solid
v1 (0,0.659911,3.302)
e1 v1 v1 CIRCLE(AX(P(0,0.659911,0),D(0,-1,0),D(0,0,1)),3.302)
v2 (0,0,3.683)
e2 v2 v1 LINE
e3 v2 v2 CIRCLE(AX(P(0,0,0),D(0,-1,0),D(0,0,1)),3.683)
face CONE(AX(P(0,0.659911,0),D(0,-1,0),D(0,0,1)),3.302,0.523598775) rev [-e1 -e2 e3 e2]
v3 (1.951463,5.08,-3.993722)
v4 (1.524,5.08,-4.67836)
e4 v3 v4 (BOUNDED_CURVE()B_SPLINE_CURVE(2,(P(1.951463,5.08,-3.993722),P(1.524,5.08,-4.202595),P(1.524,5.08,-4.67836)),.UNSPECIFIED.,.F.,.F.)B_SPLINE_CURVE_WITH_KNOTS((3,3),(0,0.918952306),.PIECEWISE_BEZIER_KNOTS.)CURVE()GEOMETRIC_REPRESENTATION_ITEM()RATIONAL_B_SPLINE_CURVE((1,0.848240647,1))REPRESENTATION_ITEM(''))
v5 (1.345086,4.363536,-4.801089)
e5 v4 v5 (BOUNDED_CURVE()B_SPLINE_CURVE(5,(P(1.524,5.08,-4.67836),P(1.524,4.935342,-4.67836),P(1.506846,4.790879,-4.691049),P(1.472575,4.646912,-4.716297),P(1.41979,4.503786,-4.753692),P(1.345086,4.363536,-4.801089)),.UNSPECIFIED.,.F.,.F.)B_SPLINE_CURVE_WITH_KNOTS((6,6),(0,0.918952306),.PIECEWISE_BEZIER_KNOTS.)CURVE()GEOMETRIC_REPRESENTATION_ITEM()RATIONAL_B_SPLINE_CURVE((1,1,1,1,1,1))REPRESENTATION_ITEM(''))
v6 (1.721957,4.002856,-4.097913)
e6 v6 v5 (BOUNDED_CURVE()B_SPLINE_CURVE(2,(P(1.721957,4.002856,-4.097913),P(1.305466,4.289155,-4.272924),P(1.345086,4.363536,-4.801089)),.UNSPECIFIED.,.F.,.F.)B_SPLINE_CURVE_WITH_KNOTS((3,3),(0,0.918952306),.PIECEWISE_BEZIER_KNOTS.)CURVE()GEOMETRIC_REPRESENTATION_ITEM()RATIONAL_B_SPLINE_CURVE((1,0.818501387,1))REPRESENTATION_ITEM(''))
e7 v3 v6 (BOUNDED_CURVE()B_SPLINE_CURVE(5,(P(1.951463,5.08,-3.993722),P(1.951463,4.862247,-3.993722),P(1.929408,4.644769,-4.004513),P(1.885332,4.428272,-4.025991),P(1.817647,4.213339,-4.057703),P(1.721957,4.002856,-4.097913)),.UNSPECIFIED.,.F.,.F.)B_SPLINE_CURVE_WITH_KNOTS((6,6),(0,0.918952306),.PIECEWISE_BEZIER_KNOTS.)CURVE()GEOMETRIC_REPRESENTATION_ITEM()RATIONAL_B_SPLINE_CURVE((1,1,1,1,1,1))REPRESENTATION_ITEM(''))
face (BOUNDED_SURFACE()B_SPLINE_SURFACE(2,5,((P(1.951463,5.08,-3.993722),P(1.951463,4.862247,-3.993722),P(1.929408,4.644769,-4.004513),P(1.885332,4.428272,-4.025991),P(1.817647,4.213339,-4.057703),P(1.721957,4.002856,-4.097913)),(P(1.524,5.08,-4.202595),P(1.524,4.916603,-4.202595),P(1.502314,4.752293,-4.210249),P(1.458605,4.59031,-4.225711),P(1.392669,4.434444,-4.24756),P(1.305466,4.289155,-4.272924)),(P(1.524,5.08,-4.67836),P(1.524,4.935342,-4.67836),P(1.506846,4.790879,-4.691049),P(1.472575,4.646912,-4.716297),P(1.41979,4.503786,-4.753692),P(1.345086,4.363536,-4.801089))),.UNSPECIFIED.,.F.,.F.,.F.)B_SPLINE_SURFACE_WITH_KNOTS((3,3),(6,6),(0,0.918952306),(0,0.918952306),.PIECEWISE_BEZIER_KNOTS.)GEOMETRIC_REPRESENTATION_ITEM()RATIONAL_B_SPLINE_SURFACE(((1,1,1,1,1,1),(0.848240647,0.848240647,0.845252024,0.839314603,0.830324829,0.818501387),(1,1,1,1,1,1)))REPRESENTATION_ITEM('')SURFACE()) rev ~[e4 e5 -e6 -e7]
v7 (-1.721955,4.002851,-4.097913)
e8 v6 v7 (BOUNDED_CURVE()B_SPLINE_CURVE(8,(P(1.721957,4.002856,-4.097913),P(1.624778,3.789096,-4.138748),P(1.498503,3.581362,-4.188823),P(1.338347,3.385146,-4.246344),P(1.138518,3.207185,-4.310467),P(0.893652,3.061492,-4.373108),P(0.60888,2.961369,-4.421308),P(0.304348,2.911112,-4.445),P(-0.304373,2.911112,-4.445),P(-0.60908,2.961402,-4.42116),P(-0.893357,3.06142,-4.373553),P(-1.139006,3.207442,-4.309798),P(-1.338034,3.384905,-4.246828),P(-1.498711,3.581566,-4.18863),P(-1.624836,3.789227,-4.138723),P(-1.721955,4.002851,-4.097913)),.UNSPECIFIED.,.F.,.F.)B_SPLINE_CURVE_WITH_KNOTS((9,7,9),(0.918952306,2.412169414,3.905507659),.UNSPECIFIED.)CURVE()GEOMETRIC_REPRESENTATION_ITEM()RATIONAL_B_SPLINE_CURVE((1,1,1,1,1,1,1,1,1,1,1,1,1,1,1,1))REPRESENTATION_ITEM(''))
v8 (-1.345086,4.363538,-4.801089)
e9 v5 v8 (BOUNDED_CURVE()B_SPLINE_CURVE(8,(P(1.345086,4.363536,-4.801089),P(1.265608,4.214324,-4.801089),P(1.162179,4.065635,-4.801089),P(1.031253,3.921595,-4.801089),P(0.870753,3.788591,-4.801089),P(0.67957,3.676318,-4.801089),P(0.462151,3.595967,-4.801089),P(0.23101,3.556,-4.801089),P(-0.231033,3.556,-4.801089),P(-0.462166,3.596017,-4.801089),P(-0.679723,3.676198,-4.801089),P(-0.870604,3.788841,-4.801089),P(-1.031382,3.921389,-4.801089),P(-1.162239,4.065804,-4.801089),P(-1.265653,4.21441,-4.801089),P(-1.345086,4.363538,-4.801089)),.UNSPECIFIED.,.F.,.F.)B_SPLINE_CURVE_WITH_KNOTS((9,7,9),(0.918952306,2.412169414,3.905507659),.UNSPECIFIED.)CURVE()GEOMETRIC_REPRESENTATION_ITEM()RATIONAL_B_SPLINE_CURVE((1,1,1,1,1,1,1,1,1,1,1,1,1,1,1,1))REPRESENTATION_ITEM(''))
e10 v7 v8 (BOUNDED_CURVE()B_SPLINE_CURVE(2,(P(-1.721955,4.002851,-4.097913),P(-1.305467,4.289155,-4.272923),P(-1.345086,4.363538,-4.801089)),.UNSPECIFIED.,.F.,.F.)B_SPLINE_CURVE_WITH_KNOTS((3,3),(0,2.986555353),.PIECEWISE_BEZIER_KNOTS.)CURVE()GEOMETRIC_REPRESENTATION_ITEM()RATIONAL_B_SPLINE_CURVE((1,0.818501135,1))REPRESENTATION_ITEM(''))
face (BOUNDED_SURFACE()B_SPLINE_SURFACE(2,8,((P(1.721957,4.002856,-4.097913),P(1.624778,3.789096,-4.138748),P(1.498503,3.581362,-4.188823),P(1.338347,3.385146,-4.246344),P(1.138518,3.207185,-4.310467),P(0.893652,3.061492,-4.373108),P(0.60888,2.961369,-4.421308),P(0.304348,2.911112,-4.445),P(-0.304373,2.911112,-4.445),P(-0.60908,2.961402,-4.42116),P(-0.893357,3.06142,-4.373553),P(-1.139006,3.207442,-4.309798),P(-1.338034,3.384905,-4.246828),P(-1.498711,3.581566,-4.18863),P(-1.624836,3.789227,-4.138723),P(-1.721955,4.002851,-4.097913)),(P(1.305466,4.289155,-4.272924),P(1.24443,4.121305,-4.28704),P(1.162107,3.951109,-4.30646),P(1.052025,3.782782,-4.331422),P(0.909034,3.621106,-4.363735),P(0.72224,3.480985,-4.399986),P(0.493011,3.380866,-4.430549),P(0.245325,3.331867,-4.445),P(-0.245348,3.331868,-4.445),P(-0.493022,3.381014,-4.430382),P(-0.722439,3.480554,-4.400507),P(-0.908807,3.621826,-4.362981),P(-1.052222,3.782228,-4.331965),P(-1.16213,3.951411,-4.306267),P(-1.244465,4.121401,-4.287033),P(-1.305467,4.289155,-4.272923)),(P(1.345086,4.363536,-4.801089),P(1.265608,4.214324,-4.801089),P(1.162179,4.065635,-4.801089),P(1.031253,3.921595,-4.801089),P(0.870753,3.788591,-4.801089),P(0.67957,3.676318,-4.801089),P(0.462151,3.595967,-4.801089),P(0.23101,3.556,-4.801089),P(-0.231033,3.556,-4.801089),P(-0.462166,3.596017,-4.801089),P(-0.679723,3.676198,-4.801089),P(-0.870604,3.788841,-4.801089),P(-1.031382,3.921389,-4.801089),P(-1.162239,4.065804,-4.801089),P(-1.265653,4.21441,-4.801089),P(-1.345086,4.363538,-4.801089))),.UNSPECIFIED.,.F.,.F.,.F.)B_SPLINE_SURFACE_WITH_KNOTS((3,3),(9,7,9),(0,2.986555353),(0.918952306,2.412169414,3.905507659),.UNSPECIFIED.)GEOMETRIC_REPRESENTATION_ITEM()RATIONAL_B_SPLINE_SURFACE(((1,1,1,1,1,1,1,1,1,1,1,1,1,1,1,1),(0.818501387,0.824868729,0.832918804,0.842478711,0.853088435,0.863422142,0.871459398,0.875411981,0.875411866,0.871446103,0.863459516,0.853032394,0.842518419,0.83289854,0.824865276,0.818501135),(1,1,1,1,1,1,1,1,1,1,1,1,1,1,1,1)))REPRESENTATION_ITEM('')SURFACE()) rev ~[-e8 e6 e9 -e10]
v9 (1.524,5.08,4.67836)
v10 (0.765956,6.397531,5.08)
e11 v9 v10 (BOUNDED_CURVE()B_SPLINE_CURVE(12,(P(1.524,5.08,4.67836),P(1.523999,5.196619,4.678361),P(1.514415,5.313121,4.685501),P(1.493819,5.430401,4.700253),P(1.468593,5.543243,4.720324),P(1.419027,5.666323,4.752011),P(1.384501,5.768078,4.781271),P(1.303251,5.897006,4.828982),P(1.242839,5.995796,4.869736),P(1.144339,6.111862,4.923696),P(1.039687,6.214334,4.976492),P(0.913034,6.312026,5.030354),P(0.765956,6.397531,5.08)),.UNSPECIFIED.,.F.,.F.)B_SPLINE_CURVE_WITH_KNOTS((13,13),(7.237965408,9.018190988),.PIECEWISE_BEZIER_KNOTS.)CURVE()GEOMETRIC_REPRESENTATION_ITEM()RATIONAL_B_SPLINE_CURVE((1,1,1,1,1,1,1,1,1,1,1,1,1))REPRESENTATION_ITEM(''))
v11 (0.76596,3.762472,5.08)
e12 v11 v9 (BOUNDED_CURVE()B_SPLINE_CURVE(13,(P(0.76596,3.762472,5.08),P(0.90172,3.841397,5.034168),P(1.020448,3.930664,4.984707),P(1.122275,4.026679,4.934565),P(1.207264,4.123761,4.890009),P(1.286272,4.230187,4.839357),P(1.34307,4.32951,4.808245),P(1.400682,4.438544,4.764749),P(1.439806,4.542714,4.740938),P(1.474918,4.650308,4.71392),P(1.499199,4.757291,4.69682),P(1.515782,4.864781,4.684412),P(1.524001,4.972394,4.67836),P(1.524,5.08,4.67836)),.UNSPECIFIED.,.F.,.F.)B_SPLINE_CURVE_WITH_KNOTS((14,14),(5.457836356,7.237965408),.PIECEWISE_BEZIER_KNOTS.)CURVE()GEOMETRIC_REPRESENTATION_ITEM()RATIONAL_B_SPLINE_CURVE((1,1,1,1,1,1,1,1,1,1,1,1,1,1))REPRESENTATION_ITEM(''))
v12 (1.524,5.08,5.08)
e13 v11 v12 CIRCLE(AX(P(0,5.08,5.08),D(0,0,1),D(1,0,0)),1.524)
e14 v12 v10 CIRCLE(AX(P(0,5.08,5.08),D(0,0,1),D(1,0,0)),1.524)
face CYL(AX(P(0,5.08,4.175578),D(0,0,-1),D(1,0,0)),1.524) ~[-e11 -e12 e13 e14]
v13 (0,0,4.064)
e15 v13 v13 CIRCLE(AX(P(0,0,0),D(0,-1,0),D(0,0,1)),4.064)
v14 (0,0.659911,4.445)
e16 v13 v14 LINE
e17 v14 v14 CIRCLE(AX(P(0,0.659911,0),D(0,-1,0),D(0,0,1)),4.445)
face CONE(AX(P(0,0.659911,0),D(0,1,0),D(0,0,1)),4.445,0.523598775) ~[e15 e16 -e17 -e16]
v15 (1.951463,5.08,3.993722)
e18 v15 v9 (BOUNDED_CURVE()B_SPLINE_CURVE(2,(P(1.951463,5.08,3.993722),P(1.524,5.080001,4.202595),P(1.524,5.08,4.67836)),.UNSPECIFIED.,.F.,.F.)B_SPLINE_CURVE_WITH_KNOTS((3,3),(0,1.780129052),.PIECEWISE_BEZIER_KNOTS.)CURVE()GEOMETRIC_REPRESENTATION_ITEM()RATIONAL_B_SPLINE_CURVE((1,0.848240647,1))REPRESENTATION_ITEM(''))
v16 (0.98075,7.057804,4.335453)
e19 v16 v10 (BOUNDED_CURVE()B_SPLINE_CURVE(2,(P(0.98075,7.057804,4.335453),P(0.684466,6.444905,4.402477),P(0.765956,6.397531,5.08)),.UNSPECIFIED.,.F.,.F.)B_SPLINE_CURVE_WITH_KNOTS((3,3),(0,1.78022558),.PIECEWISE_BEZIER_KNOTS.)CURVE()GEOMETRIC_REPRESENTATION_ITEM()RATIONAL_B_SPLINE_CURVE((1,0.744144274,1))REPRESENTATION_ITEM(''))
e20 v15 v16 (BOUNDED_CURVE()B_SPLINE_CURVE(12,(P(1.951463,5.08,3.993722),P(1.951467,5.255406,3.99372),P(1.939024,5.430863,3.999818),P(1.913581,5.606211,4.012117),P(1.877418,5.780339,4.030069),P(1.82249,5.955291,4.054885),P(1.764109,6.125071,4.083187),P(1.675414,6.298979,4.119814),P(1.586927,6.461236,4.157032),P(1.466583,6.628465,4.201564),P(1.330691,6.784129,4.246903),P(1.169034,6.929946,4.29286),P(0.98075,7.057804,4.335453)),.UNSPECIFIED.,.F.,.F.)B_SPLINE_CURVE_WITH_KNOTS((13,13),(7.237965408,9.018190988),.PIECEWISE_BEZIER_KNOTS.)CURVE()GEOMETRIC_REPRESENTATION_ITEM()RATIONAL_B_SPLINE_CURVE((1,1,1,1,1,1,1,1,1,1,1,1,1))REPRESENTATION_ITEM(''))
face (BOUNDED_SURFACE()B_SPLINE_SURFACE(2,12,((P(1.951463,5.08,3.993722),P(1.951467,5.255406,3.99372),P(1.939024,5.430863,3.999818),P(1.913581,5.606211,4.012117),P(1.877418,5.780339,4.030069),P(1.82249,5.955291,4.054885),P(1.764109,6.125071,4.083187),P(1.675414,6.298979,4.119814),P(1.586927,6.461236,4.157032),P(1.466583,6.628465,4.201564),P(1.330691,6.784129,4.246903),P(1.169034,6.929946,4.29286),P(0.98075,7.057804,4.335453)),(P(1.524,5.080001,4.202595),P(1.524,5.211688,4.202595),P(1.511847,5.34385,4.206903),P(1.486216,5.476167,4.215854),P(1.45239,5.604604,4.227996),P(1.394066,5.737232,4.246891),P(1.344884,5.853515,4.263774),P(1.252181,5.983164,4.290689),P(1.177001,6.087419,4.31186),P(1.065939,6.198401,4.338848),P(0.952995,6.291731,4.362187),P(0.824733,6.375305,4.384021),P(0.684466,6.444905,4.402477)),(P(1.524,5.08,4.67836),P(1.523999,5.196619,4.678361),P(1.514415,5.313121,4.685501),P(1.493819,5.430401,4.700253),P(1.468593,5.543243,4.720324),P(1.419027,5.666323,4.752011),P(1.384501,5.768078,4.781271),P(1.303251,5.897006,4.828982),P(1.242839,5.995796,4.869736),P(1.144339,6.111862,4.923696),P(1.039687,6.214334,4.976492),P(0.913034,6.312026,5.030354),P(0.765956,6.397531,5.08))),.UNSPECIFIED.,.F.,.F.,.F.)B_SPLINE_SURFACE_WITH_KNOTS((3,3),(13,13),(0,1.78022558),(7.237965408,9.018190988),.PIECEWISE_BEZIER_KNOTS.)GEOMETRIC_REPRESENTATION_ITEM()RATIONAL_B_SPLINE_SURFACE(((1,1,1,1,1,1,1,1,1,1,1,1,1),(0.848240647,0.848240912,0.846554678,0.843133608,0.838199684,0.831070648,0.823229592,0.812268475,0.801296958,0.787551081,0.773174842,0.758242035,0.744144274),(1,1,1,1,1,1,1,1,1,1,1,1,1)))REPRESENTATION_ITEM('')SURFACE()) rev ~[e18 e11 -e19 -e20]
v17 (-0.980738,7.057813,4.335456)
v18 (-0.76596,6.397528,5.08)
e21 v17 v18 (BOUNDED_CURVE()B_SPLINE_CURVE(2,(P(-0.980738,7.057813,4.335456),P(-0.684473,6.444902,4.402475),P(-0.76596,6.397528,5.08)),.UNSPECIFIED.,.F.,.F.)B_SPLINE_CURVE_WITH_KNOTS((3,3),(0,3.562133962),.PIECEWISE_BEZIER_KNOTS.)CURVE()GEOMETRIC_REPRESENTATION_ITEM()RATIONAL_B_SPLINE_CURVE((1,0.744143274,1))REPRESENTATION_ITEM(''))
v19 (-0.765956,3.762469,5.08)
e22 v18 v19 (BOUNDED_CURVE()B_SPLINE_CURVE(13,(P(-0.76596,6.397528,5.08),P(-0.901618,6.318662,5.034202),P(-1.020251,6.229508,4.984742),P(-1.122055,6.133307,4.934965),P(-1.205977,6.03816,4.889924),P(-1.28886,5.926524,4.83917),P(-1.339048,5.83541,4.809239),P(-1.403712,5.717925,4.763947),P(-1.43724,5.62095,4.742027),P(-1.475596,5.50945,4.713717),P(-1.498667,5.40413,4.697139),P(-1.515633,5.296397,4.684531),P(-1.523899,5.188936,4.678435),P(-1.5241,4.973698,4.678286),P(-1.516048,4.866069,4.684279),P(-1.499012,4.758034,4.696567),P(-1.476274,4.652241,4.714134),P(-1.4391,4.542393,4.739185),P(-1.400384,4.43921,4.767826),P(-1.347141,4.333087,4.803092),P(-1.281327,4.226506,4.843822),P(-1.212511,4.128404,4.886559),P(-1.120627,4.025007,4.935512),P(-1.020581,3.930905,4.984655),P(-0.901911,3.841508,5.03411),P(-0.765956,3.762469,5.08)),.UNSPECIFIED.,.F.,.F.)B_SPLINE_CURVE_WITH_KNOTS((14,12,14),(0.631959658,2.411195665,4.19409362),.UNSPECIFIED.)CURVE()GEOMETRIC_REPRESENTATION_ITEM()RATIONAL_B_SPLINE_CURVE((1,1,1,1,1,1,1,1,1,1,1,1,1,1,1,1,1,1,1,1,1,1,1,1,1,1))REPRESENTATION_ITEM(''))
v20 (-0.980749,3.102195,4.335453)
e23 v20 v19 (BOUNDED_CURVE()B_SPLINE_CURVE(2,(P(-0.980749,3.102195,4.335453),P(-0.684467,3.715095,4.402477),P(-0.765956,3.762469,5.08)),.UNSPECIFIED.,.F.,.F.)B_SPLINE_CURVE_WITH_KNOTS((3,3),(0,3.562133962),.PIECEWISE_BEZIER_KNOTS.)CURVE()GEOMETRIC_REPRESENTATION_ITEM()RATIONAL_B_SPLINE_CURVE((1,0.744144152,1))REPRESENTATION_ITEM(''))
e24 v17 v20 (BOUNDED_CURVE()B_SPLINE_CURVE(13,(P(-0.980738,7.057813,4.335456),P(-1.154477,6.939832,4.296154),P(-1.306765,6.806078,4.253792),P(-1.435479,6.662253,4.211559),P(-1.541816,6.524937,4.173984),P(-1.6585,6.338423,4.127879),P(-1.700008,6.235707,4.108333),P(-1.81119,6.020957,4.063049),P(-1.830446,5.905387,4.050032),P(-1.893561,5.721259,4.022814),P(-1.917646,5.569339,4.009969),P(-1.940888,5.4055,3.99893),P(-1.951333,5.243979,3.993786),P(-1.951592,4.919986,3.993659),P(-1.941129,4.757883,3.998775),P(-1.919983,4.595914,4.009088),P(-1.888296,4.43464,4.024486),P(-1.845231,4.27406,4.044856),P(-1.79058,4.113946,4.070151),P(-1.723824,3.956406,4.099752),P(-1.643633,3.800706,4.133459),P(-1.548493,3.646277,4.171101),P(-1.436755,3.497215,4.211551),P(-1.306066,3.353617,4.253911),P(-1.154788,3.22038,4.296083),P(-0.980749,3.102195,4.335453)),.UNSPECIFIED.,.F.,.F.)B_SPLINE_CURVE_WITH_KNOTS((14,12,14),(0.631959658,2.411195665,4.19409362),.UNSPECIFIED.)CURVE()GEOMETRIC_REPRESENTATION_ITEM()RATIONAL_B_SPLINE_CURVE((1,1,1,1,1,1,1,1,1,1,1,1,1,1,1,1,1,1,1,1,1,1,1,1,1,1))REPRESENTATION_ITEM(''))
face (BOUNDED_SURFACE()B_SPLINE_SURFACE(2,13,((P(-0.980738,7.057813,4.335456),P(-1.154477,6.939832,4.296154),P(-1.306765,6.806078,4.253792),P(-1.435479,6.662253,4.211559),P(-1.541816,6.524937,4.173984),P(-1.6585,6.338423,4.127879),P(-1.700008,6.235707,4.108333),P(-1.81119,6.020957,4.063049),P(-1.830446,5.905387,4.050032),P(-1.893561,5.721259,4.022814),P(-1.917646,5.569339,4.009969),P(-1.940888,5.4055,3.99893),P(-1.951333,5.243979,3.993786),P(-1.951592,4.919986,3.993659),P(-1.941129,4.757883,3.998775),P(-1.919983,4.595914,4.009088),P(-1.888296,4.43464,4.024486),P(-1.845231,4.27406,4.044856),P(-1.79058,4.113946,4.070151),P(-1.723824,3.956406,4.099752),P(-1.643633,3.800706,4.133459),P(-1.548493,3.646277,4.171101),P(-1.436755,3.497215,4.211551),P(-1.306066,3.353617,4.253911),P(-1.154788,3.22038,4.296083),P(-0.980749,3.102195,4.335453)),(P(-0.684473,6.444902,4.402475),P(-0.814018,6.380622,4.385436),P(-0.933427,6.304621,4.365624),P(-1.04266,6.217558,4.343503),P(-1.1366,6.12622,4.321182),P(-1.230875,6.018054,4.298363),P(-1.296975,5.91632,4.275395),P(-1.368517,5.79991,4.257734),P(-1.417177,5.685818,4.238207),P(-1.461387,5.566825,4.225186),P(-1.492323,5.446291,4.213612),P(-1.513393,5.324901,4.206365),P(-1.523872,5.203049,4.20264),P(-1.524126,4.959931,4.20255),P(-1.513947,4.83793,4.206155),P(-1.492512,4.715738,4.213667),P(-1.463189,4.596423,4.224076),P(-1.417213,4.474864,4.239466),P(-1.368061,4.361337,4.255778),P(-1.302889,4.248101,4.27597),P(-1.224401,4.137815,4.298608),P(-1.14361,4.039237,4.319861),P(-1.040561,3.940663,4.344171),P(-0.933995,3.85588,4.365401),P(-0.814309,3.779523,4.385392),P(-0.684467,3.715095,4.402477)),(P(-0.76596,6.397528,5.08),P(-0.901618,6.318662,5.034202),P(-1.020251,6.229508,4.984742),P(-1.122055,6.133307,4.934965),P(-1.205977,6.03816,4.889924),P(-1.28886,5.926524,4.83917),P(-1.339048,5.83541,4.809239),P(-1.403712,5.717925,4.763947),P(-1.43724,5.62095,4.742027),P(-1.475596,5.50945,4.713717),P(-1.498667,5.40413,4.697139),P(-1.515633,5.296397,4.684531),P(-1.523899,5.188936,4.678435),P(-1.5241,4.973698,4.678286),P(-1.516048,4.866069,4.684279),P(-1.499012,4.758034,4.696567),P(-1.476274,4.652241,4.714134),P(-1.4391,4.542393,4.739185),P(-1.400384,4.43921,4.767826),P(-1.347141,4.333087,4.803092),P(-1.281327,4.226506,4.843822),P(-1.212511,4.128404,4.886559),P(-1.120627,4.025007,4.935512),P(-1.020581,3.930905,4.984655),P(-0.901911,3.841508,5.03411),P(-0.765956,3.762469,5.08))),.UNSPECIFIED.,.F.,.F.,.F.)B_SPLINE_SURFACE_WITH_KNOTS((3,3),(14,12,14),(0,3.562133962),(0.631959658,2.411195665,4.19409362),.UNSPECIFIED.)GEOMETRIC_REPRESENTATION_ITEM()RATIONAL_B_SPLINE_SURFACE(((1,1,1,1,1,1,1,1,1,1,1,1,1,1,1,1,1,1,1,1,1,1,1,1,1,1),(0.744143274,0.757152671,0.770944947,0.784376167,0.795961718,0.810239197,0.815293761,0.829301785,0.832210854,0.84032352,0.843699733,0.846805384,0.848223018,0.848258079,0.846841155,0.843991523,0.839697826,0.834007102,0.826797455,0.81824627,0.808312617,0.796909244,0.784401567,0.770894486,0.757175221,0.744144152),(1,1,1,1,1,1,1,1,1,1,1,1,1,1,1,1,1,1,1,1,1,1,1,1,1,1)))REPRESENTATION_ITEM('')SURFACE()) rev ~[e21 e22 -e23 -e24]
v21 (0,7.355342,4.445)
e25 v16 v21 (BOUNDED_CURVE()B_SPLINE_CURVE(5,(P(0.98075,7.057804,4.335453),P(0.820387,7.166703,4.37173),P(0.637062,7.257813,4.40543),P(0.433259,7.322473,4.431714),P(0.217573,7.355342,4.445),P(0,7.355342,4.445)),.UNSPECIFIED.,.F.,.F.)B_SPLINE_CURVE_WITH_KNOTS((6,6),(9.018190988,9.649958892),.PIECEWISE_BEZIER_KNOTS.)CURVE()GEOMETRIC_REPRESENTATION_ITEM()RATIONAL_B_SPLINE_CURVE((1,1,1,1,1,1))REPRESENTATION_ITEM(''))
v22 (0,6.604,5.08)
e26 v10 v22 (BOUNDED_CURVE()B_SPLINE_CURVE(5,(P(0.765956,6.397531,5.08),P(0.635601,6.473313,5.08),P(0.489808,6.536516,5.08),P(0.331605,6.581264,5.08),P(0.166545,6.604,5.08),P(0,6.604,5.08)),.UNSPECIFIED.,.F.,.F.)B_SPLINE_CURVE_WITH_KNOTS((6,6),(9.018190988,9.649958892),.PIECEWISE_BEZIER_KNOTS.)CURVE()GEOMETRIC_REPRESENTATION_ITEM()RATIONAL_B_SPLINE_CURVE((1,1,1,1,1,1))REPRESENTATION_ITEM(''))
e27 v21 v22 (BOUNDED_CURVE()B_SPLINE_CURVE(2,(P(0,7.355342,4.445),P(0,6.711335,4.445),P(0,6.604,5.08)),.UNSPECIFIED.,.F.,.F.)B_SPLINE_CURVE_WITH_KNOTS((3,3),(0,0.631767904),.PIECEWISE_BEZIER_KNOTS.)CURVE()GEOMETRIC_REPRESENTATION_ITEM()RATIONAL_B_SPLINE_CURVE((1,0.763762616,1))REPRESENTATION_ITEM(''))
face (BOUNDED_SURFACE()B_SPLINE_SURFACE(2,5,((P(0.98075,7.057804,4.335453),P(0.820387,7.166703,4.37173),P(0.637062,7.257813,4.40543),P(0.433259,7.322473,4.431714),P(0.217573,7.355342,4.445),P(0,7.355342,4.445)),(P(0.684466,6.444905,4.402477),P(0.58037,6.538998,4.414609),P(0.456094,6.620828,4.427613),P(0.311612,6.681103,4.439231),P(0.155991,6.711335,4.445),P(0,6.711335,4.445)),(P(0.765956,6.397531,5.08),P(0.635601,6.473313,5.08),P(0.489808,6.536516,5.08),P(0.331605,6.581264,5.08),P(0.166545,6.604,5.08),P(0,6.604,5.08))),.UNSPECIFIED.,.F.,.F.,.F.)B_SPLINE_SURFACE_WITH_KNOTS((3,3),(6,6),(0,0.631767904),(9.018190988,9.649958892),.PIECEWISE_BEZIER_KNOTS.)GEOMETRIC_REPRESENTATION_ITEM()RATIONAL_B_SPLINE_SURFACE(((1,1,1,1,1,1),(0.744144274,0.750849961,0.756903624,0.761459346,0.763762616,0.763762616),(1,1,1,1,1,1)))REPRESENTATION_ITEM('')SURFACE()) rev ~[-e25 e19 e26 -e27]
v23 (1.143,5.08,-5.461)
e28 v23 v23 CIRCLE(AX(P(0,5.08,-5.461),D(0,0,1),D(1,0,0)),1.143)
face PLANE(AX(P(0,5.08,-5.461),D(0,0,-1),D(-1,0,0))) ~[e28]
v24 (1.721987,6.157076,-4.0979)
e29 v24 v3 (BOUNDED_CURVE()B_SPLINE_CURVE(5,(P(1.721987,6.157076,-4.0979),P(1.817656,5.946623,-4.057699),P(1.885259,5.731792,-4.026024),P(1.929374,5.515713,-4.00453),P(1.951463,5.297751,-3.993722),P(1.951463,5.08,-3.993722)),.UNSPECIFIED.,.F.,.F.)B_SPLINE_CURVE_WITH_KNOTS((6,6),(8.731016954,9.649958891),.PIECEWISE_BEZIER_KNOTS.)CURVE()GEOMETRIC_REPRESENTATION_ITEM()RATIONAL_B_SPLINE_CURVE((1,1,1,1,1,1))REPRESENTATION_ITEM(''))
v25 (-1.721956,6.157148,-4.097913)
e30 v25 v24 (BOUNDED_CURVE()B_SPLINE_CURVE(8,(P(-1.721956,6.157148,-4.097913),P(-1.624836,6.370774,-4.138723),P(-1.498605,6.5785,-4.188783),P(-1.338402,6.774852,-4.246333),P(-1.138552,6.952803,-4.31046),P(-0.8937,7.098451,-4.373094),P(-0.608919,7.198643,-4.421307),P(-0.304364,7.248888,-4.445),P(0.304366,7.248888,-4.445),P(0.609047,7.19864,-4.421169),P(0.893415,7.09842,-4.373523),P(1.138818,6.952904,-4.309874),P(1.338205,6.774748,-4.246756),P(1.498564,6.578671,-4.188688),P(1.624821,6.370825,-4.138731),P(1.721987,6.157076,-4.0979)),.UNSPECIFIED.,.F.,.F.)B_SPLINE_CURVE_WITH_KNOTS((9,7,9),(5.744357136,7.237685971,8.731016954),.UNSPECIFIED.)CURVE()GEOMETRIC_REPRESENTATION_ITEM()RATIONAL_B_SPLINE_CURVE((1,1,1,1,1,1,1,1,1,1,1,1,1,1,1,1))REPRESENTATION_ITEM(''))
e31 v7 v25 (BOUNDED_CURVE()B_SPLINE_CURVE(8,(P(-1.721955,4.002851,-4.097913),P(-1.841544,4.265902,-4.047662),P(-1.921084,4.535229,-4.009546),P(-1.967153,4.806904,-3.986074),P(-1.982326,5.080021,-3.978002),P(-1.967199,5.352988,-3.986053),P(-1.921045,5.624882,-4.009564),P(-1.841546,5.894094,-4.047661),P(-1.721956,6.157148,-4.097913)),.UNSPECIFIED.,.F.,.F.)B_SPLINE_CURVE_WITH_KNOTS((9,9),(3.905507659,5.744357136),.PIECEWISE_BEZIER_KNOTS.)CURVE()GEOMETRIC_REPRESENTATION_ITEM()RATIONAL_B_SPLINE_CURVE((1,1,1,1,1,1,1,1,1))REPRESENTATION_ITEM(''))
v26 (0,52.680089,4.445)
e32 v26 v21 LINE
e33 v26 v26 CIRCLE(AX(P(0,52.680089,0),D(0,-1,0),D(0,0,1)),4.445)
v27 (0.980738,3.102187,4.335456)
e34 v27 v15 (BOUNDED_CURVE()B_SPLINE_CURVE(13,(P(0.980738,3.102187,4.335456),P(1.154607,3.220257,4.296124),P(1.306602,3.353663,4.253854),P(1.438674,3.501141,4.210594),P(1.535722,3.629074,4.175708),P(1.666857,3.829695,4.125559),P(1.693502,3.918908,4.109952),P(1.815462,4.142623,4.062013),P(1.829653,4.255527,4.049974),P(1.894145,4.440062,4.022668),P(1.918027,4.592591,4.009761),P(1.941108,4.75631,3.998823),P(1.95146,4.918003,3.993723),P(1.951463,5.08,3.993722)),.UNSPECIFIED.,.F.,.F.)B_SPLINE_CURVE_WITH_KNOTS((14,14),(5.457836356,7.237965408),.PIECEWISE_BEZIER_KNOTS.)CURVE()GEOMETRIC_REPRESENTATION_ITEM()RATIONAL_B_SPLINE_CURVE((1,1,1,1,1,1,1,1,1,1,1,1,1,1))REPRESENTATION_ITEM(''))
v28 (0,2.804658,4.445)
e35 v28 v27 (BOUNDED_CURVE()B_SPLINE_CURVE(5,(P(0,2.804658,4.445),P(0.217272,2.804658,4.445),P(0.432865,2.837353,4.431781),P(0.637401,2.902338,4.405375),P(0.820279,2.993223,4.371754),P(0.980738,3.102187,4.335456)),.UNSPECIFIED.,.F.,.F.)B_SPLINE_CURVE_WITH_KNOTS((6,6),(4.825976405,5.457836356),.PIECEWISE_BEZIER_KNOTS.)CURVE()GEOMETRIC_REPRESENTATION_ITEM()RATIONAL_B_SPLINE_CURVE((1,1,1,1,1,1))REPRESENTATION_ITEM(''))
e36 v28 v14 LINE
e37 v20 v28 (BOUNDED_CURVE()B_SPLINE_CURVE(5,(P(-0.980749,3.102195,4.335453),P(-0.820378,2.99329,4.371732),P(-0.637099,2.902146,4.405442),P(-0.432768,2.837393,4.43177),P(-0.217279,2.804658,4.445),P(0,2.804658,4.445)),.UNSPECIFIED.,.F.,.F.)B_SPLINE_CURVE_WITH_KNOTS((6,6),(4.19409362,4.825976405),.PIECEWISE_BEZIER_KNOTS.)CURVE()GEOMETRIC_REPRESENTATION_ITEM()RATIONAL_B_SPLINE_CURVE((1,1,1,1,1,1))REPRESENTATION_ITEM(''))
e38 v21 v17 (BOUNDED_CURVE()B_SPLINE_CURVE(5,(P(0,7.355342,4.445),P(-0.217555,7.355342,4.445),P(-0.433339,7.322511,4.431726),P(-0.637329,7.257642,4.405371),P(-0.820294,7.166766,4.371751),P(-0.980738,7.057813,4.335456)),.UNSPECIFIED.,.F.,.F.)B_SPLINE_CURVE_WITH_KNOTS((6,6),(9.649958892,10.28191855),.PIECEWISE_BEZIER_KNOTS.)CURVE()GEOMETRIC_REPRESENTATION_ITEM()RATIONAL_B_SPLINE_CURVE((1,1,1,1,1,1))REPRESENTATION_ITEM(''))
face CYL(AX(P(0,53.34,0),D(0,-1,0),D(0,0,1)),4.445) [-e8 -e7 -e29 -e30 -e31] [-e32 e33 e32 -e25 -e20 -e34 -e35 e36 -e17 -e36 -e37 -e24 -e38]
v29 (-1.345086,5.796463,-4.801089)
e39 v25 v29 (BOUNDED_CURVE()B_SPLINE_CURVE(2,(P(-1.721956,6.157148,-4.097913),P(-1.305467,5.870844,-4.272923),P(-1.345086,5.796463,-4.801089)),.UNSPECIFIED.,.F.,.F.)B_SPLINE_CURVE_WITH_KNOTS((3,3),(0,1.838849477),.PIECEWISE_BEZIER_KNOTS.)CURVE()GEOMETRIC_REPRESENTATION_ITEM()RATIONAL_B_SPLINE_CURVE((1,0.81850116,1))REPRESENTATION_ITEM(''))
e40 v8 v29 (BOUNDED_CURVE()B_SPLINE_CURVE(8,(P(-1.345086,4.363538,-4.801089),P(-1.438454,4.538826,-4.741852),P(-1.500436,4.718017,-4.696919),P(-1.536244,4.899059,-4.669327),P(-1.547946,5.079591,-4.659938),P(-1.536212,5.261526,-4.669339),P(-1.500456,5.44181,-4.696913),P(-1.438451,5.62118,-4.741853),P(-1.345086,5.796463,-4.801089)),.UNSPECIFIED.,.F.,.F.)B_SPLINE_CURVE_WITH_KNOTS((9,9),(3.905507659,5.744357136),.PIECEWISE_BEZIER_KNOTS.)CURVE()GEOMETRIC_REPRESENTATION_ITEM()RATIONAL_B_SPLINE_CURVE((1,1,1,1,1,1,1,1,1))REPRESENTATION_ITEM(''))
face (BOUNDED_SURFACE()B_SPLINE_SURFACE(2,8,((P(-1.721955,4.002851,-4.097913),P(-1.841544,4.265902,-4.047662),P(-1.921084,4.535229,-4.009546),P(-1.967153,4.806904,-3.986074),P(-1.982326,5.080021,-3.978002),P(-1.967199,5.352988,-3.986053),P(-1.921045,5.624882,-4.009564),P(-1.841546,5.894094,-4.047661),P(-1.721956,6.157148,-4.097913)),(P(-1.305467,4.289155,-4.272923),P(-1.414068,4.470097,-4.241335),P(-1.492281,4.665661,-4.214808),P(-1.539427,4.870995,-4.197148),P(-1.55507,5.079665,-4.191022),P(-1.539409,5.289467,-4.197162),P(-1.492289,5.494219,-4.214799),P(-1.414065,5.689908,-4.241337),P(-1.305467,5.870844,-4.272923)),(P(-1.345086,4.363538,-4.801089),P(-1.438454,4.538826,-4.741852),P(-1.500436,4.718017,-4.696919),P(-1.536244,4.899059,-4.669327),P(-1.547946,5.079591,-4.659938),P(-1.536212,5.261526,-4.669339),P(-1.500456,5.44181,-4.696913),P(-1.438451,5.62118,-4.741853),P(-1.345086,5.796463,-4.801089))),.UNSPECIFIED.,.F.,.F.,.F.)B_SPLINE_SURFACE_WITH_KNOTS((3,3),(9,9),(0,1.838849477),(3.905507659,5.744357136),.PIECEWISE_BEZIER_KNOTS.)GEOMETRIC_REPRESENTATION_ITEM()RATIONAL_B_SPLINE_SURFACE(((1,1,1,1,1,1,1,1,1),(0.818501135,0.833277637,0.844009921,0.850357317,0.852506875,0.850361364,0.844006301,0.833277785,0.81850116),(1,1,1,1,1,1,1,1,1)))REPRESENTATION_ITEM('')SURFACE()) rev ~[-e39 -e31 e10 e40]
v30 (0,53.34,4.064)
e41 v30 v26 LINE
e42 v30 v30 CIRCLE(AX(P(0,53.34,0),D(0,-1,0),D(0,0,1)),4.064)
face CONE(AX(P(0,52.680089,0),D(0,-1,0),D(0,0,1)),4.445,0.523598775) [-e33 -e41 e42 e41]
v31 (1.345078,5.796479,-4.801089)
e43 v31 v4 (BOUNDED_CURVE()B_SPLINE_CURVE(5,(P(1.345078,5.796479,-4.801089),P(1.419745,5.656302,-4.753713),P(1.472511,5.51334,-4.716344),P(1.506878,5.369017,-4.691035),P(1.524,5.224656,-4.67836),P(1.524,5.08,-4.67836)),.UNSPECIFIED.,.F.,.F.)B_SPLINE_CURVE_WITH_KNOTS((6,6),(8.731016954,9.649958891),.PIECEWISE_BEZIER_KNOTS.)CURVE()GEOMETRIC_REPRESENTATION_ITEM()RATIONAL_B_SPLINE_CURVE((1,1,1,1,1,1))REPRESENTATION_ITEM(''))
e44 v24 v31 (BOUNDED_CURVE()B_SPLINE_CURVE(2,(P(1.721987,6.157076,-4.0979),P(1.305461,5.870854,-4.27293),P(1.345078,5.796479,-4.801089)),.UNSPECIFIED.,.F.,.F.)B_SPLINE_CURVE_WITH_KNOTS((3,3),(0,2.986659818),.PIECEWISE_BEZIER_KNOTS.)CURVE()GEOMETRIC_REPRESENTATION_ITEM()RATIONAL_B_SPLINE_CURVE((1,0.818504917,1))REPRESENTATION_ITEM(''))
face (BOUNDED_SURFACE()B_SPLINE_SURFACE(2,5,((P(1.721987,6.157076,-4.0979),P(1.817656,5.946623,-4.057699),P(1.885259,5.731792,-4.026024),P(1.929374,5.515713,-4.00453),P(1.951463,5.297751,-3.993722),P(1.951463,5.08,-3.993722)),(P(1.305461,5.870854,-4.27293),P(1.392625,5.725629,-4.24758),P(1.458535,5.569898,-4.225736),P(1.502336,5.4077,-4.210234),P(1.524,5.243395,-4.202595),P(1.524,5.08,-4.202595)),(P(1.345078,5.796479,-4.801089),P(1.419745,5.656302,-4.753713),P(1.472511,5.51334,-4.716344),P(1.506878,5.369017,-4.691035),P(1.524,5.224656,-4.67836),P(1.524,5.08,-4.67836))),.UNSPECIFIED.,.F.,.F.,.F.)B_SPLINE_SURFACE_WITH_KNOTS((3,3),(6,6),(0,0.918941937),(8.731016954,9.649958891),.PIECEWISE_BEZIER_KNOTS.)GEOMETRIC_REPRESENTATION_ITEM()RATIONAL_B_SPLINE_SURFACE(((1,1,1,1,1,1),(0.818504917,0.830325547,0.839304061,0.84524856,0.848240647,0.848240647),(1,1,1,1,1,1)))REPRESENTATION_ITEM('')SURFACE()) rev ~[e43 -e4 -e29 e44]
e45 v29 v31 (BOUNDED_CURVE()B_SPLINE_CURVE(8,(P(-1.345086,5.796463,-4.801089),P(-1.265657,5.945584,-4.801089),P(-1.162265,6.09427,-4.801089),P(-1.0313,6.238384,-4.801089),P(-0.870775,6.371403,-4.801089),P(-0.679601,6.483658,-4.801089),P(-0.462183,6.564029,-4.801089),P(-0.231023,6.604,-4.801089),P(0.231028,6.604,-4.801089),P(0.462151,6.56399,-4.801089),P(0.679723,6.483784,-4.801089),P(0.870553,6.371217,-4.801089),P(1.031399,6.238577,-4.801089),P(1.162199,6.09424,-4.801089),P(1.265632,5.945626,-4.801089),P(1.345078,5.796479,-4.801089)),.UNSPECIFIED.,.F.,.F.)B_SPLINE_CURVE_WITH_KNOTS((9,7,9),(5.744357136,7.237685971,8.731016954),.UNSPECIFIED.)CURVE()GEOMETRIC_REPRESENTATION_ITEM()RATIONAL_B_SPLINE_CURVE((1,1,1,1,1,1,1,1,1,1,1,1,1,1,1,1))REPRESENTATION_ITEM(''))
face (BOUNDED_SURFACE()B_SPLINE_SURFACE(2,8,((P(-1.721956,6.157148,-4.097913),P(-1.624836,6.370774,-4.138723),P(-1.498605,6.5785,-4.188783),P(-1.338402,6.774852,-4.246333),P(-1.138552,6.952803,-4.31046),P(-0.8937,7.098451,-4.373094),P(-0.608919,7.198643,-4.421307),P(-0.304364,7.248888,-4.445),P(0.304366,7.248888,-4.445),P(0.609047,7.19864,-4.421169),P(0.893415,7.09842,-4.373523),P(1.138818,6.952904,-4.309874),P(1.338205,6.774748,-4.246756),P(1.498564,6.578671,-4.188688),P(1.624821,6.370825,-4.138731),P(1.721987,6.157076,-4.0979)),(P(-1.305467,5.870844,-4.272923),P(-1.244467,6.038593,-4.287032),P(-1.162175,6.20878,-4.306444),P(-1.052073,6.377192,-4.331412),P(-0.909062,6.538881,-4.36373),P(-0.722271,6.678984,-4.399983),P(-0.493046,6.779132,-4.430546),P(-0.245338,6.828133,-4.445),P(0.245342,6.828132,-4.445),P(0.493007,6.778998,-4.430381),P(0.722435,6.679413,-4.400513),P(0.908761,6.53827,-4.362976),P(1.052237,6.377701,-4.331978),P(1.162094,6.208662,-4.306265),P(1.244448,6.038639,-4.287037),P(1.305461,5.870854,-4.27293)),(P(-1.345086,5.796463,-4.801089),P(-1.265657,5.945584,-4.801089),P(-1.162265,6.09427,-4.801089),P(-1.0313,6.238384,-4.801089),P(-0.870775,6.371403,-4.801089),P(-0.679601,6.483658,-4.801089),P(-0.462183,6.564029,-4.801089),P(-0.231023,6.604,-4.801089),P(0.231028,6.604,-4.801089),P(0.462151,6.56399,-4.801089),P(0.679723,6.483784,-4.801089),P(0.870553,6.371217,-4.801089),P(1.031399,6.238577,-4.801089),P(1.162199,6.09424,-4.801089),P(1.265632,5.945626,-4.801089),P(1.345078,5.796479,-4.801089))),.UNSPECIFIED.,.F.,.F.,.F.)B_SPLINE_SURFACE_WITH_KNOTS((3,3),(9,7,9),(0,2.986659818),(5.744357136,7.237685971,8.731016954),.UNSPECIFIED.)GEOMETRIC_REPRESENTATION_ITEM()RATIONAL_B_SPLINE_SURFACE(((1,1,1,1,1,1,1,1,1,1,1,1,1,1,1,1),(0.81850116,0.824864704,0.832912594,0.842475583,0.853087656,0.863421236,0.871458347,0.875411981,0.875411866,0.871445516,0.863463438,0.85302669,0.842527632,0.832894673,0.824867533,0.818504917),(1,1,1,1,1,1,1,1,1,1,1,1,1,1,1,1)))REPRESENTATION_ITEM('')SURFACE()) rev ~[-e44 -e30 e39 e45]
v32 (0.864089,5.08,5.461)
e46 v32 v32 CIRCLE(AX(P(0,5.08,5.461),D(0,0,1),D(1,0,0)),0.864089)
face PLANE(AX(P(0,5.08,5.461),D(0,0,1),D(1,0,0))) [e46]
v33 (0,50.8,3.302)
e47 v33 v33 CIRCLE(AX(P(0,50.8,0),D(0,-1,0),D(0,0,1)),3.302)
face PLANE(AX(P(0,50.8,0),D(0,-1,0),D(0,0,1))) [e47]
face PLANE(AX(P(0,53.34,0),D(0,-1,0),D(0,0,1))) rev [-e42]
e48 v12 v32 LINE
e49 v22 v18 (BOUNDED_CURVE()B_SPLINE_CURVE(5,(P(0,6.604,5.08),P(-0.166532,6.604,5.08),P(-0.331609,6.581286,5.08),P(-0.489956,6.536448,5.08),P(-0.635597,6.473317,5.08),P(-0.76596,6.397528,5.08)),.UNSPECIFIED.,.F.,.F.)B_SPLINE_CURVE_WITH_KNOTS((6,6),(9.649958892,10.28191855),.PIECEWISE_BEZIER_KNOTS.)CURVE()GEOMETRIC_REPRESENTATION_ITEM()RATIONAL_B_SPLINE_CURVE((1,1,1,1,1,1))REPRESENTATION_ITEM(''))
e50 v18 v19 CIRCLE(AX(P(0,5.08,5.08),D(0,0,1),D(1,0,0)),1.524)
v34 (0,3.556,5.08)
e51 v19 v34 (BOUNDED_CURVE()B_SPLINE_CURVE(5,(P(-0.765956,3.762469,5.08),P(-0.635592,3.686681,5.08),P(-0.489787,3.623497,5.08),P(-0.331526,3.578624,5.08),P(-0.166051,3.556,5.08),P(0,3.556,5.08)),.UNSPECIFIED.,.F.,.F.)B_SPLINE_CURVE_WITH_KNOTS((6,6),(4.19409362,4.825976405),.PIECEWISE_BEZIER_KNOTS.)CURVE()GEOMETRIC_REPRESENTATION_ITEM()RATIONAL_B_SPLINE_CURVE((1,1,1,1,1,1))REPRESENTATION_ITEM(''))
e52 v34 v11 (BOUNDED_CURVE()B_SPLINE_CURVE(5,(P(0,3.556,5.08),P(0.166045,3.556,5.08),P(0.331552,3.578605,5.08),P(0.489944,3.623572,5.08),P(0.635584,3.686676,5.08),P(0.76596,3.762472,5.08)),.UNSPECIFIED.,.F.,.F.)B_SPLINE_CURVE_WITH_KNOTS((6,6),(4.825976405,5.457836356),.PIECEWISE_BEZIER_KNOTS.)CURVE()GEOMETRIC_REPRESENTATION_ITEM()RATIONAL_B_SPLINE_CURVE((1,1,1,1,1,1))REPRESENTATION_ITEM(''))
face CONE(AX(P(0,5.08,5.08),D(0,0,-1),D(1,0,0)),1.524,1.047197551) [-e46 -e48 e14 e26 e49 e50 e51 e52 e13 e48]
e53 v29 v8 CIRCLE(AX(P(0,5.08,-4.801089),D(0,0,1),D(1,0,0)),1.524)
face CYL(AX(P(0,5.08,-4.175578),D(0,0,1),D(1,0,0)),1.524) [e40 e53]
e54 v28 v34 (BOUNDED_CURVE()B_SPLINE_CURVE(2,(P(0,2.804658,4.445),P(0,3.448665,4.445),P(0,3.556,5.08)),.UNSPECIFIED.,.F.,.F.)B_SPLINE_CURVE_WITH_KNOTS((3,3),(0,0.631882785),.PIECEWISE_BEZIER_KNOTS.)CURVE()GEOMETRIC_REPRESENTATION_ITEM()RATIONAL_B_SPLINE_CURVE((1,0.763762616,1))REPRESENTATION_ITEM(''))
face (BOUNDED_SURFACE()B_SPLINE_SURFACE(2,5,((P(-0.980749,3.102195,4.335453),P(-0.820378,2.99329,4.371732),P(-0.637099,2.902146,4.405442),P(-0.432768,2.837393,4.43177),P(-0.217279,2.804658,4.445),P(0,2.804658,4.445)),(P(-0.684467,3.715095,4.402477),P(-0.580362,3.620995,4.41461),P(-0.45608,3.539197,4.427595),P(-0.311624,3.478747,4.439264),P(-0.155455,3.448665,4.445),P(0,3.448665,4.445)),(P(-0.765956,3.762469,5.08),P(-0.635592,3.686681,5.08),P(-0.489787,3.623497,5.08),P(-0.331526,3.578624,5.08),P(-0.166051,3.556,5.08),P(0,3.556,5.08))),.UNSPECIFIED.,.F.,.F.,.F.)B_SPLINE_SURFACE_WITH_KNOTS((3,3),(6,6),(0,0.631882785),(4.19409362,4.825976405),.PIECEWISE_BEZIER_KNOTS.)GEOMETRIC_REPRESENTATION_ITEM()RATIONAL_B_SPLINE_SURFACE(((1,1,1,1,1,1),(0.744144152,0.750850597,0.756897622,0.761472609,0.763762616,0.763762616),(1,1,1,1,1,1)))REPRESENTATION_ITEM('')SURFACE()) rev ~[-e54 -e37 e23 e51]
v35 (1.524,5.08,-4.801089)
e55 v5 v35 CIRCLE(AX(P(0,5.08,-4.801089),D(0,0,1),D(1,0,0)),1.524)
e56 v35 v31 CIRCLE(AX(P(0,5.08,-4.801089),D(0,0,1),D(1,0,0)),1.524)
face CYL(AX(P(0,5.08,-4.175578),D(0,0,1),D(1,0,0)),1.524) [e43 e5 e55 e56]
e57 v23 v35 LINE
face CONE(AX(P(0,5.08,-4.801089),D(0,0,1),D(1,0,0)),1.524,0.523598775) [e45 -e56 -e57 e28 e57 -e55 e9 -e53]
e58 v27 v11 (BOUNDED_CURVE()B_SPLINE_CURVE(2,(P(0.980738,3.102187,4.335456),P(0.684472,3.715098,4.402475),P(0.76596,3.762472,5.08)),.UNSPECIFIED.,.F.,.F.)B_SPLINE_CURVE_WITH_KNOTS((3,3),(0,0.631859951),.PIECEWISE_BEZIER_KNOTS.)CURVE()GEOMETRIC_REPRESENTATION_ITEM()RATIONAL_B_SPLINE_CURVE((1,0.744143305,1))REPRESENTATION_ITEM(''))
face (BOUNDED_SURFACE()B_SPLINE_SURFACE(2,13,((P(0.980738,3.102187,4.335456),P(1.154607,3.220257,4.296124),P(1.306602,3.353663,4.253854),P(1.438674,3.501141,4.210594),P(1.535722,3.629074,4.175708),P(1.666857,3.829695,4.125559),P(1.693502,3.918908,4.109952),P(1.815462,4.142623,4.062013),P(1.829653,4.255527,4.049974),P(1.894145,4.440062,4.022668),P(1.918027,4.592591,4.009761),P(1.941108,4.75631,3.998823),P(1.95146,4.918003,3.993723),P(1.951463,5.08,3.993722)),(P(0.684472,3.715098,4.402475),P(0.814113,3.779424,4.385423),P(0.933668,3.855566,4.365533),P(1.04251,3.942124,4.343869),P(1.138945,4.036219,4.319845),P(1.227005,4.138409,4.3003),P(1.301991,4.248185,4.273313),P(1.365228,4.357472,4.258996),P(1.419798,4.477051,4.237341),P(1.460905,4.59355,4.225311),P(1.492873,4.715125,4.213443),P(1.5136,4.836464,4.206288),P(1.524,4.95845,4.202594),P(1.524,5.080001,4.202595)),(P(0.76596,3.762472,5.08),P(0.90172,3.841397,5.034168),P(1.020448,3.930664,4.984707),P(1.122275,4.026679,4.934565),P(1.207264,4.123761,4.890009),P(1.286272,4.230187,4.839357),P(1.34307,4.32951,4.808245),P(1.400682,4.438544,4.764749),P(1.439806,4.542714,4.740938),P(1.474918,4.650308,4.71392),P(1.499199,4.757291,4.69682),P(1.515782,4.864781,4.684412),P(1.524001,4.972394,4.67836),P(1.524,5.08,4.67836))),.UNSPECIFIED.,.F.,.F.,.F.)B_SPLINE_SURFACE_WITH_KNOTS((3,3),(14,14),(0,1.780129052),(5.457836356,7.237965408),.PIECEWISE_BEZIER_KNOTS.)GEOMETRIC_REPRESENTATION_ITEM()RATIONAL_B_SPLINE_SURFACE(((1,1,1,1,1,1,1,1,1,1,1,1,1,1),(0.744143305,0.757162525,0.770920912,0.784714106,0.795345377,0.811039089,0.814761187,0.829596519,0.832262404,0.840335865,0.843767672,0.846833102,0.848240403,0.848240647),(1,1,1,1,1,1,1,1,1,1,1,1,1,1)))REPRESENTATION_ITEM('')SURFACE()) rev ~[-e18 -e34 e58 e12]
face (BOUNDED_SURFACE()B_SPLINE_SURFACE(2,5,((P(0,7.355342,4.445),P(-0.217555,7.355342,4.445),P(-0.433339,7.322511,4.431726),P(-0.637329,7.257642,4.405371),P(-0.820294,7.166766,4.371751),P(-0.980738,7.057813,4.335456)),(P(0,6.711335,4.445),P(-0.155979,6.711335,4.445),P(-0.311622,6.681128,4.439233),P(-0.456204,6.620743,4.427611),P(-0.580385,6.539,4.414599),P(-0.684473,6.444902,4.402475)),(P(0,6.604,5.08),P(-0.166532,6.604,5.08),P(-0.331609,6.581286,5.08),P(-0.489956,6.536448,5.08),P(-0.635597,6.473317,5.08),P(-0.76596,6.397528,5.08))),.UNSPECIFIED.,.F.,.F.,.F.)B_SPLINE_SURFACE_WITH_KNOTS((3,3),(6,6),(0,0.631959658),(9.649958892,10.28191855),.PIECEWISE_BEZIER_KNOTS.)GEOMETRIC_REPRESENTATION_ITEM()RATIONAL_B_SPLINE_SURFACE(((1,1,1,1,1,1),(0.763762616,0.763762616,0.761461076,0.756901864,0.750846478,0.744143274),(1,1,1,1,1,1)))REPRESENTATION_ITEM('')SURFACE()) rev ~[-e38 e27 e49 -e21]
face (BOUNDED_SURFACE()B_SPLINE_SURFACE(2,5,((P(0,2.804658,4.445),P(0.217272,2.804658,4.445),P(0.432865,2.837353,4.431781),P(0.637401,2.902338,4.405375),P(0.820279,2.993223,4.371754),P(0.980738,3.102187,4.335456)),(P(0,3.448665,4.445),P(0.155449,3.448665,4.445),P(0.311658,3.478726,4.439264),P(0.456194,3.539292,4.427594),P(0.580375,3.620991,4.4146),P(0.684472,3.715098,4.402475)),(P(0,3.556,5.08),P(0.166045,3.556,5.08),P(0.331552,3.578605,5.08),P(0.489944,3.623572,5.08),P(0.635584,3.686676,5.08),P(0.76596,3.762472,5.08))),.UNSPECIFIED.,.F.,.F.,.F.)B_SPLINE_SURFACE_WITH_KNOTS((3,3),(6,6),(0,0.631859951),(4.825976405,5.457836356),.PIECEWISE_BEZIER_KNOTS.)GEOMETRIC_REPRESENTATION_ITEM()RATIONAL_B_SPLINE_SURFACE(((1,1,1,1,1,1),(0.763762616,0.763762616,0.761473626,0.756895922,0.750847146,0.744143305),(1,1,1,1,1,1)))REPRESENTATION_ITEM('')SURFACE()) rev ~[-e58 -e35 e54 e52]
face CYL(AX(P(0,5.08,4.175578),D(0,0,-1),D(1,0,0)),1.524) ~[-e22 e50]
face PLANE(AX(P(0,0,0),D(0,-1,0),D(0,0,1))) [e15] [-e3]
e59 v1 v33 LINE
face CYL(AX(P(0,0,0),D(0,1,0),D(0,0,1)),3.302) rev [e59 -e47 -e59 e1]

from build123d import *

# Parameters (mm, degrees)
BOSS_EXTRUDE1_START   = 4.175578
SKETCH2_R             = 1.524
BOSS_EXTRUDE1_DEPTH   = 1.285422
CHAMFER1_SIZE         = 0.381
CHAMFER1_SIZE2        = 0.659911358
CHAMFER1_PART_2_SIZE  = 0.381
CHAMFER1_PART_2_SIZE2 = 0.659911358
CHAMFER1_PART_3_SIZE  = 0.381
CHAMFER1_PART_3_SIZE2 = 0.659911358
CHAMFER1_PART_4_SIZE  = 0.381
CHAMFER1_PART_4_SIZE2 = 0.659911358
FILLET1_R             = 0.762


with BuildPart() as part:
    # Sketch1 → Revolve1 (revolve)
    with BuildSketch(Plane.XY, mode=Mode.PRIVATE) as revolve1_sk:
        Polygon((3.302, 0), (3.302, 50.8), (0, 50.8), (0, 53.34), (4.445, 53.34), (4.445, 0), align=None)
    revolve(revolve1_sk.sketch.rotate(Axis((0, 50.8, 0), (0, -1, 0)), 90), axis=Axis((0, 50.8, 0), (0, -1, 0)))  # turned: the seam where the file's is

    # Sketch2 → Boss-Extrude1 (add)
    with BuildSketch(Plane.XY.offset(BOSS_EXTRUDE1_START)):
        with Locations((0, 5.08)):
            Circle(SKETCH2_R)
    boss_extrude1 = extrude(amount=BOSS_EXTRUDE1_DEPTH)

    # Mirror1: Boss-Extrude1 across plane
    add(boss_extrude1.mirror(Plane.XY))

    # Chamfer1
    chamfer1_edges = [part.edges().sort_by_distance(p)[0] for p in [
        (-1.524, 5.08, 5.461),
    ]]
    chamfer1_side = [part.faces().sort_by_distance(p)[0] for p in [
        (-1.524, 5.08, 4.818258203),
    ]]
    chamfer(chamfer1_edges, length=CHAMFER1_SIZE, length2=CHAMFER1_SIZE2, reference=chamfer1_side[0])

    # Chamfer1 part 2
    chamfer1_part_2_edges = [part.edges().sort_by_distance(p)[0] for p in [
        (-1.524, 5.08, -5.461),
    ]]
    chamfer1_part_2_side = [part.faces().sort_by_distance(p)[0] for p in [
        (0, 5.08, -5.461),
    ]]
    chamfer(chamfer1_part_2_edges, length=CHAMFER1_PART_2_SIZE, length2=CHAMFER1_PART_2_SIZE2, reference=chamfer1_part_2_side[0])

    # Chamfer1 part 3
    chamfer1_part_3_edges = [part.edges().sort_by_distance(p)[0] for p in [
        (0, 0, -4.445),
        (0, 0, -3.302),
    ]]
    chamfer1_part_3_side = [part.faces().sort_by_distance(p)[0] for p in [
        (0, 0, -4.319276414),
    ]]
    chamfer(chamfer1_part_3_edges, length=CHAMFER1_PART_3_SIZE, length2=CHAMFER1_PART_3_SIZE2, reference=chamfer1_part_3_side[0])

    # Chamfer1 part 4
    chamfer1_part_4_edges = [part.edges().sort_by_distance(p)[0] for p in [
        (0, 53.34, -4.445),
    ]]
    chamfer1_part_4_side = [part.faces().sort_by_distance(p)[0] for p in [
        (0, 53.34, 0),
    ]]
    chamfer(chamfer1_part_4_edges, length=CHAMFER1_PART_4_SIZE, length2=CHAMFER1_PART_4_SIZE2, reference=chamfer1_part_4_side[0])

    # Fillet1
    fillet1_edges = [part.edges().sort_by_distance(p)[0] for p in [
        (-1.524, 5.08, 4.175577685),
        (-1.524, 5.08, -4.175577685),
    ]]
    fillet(fillet1_edges, radius=FILLET1_R)


solid = part.part
